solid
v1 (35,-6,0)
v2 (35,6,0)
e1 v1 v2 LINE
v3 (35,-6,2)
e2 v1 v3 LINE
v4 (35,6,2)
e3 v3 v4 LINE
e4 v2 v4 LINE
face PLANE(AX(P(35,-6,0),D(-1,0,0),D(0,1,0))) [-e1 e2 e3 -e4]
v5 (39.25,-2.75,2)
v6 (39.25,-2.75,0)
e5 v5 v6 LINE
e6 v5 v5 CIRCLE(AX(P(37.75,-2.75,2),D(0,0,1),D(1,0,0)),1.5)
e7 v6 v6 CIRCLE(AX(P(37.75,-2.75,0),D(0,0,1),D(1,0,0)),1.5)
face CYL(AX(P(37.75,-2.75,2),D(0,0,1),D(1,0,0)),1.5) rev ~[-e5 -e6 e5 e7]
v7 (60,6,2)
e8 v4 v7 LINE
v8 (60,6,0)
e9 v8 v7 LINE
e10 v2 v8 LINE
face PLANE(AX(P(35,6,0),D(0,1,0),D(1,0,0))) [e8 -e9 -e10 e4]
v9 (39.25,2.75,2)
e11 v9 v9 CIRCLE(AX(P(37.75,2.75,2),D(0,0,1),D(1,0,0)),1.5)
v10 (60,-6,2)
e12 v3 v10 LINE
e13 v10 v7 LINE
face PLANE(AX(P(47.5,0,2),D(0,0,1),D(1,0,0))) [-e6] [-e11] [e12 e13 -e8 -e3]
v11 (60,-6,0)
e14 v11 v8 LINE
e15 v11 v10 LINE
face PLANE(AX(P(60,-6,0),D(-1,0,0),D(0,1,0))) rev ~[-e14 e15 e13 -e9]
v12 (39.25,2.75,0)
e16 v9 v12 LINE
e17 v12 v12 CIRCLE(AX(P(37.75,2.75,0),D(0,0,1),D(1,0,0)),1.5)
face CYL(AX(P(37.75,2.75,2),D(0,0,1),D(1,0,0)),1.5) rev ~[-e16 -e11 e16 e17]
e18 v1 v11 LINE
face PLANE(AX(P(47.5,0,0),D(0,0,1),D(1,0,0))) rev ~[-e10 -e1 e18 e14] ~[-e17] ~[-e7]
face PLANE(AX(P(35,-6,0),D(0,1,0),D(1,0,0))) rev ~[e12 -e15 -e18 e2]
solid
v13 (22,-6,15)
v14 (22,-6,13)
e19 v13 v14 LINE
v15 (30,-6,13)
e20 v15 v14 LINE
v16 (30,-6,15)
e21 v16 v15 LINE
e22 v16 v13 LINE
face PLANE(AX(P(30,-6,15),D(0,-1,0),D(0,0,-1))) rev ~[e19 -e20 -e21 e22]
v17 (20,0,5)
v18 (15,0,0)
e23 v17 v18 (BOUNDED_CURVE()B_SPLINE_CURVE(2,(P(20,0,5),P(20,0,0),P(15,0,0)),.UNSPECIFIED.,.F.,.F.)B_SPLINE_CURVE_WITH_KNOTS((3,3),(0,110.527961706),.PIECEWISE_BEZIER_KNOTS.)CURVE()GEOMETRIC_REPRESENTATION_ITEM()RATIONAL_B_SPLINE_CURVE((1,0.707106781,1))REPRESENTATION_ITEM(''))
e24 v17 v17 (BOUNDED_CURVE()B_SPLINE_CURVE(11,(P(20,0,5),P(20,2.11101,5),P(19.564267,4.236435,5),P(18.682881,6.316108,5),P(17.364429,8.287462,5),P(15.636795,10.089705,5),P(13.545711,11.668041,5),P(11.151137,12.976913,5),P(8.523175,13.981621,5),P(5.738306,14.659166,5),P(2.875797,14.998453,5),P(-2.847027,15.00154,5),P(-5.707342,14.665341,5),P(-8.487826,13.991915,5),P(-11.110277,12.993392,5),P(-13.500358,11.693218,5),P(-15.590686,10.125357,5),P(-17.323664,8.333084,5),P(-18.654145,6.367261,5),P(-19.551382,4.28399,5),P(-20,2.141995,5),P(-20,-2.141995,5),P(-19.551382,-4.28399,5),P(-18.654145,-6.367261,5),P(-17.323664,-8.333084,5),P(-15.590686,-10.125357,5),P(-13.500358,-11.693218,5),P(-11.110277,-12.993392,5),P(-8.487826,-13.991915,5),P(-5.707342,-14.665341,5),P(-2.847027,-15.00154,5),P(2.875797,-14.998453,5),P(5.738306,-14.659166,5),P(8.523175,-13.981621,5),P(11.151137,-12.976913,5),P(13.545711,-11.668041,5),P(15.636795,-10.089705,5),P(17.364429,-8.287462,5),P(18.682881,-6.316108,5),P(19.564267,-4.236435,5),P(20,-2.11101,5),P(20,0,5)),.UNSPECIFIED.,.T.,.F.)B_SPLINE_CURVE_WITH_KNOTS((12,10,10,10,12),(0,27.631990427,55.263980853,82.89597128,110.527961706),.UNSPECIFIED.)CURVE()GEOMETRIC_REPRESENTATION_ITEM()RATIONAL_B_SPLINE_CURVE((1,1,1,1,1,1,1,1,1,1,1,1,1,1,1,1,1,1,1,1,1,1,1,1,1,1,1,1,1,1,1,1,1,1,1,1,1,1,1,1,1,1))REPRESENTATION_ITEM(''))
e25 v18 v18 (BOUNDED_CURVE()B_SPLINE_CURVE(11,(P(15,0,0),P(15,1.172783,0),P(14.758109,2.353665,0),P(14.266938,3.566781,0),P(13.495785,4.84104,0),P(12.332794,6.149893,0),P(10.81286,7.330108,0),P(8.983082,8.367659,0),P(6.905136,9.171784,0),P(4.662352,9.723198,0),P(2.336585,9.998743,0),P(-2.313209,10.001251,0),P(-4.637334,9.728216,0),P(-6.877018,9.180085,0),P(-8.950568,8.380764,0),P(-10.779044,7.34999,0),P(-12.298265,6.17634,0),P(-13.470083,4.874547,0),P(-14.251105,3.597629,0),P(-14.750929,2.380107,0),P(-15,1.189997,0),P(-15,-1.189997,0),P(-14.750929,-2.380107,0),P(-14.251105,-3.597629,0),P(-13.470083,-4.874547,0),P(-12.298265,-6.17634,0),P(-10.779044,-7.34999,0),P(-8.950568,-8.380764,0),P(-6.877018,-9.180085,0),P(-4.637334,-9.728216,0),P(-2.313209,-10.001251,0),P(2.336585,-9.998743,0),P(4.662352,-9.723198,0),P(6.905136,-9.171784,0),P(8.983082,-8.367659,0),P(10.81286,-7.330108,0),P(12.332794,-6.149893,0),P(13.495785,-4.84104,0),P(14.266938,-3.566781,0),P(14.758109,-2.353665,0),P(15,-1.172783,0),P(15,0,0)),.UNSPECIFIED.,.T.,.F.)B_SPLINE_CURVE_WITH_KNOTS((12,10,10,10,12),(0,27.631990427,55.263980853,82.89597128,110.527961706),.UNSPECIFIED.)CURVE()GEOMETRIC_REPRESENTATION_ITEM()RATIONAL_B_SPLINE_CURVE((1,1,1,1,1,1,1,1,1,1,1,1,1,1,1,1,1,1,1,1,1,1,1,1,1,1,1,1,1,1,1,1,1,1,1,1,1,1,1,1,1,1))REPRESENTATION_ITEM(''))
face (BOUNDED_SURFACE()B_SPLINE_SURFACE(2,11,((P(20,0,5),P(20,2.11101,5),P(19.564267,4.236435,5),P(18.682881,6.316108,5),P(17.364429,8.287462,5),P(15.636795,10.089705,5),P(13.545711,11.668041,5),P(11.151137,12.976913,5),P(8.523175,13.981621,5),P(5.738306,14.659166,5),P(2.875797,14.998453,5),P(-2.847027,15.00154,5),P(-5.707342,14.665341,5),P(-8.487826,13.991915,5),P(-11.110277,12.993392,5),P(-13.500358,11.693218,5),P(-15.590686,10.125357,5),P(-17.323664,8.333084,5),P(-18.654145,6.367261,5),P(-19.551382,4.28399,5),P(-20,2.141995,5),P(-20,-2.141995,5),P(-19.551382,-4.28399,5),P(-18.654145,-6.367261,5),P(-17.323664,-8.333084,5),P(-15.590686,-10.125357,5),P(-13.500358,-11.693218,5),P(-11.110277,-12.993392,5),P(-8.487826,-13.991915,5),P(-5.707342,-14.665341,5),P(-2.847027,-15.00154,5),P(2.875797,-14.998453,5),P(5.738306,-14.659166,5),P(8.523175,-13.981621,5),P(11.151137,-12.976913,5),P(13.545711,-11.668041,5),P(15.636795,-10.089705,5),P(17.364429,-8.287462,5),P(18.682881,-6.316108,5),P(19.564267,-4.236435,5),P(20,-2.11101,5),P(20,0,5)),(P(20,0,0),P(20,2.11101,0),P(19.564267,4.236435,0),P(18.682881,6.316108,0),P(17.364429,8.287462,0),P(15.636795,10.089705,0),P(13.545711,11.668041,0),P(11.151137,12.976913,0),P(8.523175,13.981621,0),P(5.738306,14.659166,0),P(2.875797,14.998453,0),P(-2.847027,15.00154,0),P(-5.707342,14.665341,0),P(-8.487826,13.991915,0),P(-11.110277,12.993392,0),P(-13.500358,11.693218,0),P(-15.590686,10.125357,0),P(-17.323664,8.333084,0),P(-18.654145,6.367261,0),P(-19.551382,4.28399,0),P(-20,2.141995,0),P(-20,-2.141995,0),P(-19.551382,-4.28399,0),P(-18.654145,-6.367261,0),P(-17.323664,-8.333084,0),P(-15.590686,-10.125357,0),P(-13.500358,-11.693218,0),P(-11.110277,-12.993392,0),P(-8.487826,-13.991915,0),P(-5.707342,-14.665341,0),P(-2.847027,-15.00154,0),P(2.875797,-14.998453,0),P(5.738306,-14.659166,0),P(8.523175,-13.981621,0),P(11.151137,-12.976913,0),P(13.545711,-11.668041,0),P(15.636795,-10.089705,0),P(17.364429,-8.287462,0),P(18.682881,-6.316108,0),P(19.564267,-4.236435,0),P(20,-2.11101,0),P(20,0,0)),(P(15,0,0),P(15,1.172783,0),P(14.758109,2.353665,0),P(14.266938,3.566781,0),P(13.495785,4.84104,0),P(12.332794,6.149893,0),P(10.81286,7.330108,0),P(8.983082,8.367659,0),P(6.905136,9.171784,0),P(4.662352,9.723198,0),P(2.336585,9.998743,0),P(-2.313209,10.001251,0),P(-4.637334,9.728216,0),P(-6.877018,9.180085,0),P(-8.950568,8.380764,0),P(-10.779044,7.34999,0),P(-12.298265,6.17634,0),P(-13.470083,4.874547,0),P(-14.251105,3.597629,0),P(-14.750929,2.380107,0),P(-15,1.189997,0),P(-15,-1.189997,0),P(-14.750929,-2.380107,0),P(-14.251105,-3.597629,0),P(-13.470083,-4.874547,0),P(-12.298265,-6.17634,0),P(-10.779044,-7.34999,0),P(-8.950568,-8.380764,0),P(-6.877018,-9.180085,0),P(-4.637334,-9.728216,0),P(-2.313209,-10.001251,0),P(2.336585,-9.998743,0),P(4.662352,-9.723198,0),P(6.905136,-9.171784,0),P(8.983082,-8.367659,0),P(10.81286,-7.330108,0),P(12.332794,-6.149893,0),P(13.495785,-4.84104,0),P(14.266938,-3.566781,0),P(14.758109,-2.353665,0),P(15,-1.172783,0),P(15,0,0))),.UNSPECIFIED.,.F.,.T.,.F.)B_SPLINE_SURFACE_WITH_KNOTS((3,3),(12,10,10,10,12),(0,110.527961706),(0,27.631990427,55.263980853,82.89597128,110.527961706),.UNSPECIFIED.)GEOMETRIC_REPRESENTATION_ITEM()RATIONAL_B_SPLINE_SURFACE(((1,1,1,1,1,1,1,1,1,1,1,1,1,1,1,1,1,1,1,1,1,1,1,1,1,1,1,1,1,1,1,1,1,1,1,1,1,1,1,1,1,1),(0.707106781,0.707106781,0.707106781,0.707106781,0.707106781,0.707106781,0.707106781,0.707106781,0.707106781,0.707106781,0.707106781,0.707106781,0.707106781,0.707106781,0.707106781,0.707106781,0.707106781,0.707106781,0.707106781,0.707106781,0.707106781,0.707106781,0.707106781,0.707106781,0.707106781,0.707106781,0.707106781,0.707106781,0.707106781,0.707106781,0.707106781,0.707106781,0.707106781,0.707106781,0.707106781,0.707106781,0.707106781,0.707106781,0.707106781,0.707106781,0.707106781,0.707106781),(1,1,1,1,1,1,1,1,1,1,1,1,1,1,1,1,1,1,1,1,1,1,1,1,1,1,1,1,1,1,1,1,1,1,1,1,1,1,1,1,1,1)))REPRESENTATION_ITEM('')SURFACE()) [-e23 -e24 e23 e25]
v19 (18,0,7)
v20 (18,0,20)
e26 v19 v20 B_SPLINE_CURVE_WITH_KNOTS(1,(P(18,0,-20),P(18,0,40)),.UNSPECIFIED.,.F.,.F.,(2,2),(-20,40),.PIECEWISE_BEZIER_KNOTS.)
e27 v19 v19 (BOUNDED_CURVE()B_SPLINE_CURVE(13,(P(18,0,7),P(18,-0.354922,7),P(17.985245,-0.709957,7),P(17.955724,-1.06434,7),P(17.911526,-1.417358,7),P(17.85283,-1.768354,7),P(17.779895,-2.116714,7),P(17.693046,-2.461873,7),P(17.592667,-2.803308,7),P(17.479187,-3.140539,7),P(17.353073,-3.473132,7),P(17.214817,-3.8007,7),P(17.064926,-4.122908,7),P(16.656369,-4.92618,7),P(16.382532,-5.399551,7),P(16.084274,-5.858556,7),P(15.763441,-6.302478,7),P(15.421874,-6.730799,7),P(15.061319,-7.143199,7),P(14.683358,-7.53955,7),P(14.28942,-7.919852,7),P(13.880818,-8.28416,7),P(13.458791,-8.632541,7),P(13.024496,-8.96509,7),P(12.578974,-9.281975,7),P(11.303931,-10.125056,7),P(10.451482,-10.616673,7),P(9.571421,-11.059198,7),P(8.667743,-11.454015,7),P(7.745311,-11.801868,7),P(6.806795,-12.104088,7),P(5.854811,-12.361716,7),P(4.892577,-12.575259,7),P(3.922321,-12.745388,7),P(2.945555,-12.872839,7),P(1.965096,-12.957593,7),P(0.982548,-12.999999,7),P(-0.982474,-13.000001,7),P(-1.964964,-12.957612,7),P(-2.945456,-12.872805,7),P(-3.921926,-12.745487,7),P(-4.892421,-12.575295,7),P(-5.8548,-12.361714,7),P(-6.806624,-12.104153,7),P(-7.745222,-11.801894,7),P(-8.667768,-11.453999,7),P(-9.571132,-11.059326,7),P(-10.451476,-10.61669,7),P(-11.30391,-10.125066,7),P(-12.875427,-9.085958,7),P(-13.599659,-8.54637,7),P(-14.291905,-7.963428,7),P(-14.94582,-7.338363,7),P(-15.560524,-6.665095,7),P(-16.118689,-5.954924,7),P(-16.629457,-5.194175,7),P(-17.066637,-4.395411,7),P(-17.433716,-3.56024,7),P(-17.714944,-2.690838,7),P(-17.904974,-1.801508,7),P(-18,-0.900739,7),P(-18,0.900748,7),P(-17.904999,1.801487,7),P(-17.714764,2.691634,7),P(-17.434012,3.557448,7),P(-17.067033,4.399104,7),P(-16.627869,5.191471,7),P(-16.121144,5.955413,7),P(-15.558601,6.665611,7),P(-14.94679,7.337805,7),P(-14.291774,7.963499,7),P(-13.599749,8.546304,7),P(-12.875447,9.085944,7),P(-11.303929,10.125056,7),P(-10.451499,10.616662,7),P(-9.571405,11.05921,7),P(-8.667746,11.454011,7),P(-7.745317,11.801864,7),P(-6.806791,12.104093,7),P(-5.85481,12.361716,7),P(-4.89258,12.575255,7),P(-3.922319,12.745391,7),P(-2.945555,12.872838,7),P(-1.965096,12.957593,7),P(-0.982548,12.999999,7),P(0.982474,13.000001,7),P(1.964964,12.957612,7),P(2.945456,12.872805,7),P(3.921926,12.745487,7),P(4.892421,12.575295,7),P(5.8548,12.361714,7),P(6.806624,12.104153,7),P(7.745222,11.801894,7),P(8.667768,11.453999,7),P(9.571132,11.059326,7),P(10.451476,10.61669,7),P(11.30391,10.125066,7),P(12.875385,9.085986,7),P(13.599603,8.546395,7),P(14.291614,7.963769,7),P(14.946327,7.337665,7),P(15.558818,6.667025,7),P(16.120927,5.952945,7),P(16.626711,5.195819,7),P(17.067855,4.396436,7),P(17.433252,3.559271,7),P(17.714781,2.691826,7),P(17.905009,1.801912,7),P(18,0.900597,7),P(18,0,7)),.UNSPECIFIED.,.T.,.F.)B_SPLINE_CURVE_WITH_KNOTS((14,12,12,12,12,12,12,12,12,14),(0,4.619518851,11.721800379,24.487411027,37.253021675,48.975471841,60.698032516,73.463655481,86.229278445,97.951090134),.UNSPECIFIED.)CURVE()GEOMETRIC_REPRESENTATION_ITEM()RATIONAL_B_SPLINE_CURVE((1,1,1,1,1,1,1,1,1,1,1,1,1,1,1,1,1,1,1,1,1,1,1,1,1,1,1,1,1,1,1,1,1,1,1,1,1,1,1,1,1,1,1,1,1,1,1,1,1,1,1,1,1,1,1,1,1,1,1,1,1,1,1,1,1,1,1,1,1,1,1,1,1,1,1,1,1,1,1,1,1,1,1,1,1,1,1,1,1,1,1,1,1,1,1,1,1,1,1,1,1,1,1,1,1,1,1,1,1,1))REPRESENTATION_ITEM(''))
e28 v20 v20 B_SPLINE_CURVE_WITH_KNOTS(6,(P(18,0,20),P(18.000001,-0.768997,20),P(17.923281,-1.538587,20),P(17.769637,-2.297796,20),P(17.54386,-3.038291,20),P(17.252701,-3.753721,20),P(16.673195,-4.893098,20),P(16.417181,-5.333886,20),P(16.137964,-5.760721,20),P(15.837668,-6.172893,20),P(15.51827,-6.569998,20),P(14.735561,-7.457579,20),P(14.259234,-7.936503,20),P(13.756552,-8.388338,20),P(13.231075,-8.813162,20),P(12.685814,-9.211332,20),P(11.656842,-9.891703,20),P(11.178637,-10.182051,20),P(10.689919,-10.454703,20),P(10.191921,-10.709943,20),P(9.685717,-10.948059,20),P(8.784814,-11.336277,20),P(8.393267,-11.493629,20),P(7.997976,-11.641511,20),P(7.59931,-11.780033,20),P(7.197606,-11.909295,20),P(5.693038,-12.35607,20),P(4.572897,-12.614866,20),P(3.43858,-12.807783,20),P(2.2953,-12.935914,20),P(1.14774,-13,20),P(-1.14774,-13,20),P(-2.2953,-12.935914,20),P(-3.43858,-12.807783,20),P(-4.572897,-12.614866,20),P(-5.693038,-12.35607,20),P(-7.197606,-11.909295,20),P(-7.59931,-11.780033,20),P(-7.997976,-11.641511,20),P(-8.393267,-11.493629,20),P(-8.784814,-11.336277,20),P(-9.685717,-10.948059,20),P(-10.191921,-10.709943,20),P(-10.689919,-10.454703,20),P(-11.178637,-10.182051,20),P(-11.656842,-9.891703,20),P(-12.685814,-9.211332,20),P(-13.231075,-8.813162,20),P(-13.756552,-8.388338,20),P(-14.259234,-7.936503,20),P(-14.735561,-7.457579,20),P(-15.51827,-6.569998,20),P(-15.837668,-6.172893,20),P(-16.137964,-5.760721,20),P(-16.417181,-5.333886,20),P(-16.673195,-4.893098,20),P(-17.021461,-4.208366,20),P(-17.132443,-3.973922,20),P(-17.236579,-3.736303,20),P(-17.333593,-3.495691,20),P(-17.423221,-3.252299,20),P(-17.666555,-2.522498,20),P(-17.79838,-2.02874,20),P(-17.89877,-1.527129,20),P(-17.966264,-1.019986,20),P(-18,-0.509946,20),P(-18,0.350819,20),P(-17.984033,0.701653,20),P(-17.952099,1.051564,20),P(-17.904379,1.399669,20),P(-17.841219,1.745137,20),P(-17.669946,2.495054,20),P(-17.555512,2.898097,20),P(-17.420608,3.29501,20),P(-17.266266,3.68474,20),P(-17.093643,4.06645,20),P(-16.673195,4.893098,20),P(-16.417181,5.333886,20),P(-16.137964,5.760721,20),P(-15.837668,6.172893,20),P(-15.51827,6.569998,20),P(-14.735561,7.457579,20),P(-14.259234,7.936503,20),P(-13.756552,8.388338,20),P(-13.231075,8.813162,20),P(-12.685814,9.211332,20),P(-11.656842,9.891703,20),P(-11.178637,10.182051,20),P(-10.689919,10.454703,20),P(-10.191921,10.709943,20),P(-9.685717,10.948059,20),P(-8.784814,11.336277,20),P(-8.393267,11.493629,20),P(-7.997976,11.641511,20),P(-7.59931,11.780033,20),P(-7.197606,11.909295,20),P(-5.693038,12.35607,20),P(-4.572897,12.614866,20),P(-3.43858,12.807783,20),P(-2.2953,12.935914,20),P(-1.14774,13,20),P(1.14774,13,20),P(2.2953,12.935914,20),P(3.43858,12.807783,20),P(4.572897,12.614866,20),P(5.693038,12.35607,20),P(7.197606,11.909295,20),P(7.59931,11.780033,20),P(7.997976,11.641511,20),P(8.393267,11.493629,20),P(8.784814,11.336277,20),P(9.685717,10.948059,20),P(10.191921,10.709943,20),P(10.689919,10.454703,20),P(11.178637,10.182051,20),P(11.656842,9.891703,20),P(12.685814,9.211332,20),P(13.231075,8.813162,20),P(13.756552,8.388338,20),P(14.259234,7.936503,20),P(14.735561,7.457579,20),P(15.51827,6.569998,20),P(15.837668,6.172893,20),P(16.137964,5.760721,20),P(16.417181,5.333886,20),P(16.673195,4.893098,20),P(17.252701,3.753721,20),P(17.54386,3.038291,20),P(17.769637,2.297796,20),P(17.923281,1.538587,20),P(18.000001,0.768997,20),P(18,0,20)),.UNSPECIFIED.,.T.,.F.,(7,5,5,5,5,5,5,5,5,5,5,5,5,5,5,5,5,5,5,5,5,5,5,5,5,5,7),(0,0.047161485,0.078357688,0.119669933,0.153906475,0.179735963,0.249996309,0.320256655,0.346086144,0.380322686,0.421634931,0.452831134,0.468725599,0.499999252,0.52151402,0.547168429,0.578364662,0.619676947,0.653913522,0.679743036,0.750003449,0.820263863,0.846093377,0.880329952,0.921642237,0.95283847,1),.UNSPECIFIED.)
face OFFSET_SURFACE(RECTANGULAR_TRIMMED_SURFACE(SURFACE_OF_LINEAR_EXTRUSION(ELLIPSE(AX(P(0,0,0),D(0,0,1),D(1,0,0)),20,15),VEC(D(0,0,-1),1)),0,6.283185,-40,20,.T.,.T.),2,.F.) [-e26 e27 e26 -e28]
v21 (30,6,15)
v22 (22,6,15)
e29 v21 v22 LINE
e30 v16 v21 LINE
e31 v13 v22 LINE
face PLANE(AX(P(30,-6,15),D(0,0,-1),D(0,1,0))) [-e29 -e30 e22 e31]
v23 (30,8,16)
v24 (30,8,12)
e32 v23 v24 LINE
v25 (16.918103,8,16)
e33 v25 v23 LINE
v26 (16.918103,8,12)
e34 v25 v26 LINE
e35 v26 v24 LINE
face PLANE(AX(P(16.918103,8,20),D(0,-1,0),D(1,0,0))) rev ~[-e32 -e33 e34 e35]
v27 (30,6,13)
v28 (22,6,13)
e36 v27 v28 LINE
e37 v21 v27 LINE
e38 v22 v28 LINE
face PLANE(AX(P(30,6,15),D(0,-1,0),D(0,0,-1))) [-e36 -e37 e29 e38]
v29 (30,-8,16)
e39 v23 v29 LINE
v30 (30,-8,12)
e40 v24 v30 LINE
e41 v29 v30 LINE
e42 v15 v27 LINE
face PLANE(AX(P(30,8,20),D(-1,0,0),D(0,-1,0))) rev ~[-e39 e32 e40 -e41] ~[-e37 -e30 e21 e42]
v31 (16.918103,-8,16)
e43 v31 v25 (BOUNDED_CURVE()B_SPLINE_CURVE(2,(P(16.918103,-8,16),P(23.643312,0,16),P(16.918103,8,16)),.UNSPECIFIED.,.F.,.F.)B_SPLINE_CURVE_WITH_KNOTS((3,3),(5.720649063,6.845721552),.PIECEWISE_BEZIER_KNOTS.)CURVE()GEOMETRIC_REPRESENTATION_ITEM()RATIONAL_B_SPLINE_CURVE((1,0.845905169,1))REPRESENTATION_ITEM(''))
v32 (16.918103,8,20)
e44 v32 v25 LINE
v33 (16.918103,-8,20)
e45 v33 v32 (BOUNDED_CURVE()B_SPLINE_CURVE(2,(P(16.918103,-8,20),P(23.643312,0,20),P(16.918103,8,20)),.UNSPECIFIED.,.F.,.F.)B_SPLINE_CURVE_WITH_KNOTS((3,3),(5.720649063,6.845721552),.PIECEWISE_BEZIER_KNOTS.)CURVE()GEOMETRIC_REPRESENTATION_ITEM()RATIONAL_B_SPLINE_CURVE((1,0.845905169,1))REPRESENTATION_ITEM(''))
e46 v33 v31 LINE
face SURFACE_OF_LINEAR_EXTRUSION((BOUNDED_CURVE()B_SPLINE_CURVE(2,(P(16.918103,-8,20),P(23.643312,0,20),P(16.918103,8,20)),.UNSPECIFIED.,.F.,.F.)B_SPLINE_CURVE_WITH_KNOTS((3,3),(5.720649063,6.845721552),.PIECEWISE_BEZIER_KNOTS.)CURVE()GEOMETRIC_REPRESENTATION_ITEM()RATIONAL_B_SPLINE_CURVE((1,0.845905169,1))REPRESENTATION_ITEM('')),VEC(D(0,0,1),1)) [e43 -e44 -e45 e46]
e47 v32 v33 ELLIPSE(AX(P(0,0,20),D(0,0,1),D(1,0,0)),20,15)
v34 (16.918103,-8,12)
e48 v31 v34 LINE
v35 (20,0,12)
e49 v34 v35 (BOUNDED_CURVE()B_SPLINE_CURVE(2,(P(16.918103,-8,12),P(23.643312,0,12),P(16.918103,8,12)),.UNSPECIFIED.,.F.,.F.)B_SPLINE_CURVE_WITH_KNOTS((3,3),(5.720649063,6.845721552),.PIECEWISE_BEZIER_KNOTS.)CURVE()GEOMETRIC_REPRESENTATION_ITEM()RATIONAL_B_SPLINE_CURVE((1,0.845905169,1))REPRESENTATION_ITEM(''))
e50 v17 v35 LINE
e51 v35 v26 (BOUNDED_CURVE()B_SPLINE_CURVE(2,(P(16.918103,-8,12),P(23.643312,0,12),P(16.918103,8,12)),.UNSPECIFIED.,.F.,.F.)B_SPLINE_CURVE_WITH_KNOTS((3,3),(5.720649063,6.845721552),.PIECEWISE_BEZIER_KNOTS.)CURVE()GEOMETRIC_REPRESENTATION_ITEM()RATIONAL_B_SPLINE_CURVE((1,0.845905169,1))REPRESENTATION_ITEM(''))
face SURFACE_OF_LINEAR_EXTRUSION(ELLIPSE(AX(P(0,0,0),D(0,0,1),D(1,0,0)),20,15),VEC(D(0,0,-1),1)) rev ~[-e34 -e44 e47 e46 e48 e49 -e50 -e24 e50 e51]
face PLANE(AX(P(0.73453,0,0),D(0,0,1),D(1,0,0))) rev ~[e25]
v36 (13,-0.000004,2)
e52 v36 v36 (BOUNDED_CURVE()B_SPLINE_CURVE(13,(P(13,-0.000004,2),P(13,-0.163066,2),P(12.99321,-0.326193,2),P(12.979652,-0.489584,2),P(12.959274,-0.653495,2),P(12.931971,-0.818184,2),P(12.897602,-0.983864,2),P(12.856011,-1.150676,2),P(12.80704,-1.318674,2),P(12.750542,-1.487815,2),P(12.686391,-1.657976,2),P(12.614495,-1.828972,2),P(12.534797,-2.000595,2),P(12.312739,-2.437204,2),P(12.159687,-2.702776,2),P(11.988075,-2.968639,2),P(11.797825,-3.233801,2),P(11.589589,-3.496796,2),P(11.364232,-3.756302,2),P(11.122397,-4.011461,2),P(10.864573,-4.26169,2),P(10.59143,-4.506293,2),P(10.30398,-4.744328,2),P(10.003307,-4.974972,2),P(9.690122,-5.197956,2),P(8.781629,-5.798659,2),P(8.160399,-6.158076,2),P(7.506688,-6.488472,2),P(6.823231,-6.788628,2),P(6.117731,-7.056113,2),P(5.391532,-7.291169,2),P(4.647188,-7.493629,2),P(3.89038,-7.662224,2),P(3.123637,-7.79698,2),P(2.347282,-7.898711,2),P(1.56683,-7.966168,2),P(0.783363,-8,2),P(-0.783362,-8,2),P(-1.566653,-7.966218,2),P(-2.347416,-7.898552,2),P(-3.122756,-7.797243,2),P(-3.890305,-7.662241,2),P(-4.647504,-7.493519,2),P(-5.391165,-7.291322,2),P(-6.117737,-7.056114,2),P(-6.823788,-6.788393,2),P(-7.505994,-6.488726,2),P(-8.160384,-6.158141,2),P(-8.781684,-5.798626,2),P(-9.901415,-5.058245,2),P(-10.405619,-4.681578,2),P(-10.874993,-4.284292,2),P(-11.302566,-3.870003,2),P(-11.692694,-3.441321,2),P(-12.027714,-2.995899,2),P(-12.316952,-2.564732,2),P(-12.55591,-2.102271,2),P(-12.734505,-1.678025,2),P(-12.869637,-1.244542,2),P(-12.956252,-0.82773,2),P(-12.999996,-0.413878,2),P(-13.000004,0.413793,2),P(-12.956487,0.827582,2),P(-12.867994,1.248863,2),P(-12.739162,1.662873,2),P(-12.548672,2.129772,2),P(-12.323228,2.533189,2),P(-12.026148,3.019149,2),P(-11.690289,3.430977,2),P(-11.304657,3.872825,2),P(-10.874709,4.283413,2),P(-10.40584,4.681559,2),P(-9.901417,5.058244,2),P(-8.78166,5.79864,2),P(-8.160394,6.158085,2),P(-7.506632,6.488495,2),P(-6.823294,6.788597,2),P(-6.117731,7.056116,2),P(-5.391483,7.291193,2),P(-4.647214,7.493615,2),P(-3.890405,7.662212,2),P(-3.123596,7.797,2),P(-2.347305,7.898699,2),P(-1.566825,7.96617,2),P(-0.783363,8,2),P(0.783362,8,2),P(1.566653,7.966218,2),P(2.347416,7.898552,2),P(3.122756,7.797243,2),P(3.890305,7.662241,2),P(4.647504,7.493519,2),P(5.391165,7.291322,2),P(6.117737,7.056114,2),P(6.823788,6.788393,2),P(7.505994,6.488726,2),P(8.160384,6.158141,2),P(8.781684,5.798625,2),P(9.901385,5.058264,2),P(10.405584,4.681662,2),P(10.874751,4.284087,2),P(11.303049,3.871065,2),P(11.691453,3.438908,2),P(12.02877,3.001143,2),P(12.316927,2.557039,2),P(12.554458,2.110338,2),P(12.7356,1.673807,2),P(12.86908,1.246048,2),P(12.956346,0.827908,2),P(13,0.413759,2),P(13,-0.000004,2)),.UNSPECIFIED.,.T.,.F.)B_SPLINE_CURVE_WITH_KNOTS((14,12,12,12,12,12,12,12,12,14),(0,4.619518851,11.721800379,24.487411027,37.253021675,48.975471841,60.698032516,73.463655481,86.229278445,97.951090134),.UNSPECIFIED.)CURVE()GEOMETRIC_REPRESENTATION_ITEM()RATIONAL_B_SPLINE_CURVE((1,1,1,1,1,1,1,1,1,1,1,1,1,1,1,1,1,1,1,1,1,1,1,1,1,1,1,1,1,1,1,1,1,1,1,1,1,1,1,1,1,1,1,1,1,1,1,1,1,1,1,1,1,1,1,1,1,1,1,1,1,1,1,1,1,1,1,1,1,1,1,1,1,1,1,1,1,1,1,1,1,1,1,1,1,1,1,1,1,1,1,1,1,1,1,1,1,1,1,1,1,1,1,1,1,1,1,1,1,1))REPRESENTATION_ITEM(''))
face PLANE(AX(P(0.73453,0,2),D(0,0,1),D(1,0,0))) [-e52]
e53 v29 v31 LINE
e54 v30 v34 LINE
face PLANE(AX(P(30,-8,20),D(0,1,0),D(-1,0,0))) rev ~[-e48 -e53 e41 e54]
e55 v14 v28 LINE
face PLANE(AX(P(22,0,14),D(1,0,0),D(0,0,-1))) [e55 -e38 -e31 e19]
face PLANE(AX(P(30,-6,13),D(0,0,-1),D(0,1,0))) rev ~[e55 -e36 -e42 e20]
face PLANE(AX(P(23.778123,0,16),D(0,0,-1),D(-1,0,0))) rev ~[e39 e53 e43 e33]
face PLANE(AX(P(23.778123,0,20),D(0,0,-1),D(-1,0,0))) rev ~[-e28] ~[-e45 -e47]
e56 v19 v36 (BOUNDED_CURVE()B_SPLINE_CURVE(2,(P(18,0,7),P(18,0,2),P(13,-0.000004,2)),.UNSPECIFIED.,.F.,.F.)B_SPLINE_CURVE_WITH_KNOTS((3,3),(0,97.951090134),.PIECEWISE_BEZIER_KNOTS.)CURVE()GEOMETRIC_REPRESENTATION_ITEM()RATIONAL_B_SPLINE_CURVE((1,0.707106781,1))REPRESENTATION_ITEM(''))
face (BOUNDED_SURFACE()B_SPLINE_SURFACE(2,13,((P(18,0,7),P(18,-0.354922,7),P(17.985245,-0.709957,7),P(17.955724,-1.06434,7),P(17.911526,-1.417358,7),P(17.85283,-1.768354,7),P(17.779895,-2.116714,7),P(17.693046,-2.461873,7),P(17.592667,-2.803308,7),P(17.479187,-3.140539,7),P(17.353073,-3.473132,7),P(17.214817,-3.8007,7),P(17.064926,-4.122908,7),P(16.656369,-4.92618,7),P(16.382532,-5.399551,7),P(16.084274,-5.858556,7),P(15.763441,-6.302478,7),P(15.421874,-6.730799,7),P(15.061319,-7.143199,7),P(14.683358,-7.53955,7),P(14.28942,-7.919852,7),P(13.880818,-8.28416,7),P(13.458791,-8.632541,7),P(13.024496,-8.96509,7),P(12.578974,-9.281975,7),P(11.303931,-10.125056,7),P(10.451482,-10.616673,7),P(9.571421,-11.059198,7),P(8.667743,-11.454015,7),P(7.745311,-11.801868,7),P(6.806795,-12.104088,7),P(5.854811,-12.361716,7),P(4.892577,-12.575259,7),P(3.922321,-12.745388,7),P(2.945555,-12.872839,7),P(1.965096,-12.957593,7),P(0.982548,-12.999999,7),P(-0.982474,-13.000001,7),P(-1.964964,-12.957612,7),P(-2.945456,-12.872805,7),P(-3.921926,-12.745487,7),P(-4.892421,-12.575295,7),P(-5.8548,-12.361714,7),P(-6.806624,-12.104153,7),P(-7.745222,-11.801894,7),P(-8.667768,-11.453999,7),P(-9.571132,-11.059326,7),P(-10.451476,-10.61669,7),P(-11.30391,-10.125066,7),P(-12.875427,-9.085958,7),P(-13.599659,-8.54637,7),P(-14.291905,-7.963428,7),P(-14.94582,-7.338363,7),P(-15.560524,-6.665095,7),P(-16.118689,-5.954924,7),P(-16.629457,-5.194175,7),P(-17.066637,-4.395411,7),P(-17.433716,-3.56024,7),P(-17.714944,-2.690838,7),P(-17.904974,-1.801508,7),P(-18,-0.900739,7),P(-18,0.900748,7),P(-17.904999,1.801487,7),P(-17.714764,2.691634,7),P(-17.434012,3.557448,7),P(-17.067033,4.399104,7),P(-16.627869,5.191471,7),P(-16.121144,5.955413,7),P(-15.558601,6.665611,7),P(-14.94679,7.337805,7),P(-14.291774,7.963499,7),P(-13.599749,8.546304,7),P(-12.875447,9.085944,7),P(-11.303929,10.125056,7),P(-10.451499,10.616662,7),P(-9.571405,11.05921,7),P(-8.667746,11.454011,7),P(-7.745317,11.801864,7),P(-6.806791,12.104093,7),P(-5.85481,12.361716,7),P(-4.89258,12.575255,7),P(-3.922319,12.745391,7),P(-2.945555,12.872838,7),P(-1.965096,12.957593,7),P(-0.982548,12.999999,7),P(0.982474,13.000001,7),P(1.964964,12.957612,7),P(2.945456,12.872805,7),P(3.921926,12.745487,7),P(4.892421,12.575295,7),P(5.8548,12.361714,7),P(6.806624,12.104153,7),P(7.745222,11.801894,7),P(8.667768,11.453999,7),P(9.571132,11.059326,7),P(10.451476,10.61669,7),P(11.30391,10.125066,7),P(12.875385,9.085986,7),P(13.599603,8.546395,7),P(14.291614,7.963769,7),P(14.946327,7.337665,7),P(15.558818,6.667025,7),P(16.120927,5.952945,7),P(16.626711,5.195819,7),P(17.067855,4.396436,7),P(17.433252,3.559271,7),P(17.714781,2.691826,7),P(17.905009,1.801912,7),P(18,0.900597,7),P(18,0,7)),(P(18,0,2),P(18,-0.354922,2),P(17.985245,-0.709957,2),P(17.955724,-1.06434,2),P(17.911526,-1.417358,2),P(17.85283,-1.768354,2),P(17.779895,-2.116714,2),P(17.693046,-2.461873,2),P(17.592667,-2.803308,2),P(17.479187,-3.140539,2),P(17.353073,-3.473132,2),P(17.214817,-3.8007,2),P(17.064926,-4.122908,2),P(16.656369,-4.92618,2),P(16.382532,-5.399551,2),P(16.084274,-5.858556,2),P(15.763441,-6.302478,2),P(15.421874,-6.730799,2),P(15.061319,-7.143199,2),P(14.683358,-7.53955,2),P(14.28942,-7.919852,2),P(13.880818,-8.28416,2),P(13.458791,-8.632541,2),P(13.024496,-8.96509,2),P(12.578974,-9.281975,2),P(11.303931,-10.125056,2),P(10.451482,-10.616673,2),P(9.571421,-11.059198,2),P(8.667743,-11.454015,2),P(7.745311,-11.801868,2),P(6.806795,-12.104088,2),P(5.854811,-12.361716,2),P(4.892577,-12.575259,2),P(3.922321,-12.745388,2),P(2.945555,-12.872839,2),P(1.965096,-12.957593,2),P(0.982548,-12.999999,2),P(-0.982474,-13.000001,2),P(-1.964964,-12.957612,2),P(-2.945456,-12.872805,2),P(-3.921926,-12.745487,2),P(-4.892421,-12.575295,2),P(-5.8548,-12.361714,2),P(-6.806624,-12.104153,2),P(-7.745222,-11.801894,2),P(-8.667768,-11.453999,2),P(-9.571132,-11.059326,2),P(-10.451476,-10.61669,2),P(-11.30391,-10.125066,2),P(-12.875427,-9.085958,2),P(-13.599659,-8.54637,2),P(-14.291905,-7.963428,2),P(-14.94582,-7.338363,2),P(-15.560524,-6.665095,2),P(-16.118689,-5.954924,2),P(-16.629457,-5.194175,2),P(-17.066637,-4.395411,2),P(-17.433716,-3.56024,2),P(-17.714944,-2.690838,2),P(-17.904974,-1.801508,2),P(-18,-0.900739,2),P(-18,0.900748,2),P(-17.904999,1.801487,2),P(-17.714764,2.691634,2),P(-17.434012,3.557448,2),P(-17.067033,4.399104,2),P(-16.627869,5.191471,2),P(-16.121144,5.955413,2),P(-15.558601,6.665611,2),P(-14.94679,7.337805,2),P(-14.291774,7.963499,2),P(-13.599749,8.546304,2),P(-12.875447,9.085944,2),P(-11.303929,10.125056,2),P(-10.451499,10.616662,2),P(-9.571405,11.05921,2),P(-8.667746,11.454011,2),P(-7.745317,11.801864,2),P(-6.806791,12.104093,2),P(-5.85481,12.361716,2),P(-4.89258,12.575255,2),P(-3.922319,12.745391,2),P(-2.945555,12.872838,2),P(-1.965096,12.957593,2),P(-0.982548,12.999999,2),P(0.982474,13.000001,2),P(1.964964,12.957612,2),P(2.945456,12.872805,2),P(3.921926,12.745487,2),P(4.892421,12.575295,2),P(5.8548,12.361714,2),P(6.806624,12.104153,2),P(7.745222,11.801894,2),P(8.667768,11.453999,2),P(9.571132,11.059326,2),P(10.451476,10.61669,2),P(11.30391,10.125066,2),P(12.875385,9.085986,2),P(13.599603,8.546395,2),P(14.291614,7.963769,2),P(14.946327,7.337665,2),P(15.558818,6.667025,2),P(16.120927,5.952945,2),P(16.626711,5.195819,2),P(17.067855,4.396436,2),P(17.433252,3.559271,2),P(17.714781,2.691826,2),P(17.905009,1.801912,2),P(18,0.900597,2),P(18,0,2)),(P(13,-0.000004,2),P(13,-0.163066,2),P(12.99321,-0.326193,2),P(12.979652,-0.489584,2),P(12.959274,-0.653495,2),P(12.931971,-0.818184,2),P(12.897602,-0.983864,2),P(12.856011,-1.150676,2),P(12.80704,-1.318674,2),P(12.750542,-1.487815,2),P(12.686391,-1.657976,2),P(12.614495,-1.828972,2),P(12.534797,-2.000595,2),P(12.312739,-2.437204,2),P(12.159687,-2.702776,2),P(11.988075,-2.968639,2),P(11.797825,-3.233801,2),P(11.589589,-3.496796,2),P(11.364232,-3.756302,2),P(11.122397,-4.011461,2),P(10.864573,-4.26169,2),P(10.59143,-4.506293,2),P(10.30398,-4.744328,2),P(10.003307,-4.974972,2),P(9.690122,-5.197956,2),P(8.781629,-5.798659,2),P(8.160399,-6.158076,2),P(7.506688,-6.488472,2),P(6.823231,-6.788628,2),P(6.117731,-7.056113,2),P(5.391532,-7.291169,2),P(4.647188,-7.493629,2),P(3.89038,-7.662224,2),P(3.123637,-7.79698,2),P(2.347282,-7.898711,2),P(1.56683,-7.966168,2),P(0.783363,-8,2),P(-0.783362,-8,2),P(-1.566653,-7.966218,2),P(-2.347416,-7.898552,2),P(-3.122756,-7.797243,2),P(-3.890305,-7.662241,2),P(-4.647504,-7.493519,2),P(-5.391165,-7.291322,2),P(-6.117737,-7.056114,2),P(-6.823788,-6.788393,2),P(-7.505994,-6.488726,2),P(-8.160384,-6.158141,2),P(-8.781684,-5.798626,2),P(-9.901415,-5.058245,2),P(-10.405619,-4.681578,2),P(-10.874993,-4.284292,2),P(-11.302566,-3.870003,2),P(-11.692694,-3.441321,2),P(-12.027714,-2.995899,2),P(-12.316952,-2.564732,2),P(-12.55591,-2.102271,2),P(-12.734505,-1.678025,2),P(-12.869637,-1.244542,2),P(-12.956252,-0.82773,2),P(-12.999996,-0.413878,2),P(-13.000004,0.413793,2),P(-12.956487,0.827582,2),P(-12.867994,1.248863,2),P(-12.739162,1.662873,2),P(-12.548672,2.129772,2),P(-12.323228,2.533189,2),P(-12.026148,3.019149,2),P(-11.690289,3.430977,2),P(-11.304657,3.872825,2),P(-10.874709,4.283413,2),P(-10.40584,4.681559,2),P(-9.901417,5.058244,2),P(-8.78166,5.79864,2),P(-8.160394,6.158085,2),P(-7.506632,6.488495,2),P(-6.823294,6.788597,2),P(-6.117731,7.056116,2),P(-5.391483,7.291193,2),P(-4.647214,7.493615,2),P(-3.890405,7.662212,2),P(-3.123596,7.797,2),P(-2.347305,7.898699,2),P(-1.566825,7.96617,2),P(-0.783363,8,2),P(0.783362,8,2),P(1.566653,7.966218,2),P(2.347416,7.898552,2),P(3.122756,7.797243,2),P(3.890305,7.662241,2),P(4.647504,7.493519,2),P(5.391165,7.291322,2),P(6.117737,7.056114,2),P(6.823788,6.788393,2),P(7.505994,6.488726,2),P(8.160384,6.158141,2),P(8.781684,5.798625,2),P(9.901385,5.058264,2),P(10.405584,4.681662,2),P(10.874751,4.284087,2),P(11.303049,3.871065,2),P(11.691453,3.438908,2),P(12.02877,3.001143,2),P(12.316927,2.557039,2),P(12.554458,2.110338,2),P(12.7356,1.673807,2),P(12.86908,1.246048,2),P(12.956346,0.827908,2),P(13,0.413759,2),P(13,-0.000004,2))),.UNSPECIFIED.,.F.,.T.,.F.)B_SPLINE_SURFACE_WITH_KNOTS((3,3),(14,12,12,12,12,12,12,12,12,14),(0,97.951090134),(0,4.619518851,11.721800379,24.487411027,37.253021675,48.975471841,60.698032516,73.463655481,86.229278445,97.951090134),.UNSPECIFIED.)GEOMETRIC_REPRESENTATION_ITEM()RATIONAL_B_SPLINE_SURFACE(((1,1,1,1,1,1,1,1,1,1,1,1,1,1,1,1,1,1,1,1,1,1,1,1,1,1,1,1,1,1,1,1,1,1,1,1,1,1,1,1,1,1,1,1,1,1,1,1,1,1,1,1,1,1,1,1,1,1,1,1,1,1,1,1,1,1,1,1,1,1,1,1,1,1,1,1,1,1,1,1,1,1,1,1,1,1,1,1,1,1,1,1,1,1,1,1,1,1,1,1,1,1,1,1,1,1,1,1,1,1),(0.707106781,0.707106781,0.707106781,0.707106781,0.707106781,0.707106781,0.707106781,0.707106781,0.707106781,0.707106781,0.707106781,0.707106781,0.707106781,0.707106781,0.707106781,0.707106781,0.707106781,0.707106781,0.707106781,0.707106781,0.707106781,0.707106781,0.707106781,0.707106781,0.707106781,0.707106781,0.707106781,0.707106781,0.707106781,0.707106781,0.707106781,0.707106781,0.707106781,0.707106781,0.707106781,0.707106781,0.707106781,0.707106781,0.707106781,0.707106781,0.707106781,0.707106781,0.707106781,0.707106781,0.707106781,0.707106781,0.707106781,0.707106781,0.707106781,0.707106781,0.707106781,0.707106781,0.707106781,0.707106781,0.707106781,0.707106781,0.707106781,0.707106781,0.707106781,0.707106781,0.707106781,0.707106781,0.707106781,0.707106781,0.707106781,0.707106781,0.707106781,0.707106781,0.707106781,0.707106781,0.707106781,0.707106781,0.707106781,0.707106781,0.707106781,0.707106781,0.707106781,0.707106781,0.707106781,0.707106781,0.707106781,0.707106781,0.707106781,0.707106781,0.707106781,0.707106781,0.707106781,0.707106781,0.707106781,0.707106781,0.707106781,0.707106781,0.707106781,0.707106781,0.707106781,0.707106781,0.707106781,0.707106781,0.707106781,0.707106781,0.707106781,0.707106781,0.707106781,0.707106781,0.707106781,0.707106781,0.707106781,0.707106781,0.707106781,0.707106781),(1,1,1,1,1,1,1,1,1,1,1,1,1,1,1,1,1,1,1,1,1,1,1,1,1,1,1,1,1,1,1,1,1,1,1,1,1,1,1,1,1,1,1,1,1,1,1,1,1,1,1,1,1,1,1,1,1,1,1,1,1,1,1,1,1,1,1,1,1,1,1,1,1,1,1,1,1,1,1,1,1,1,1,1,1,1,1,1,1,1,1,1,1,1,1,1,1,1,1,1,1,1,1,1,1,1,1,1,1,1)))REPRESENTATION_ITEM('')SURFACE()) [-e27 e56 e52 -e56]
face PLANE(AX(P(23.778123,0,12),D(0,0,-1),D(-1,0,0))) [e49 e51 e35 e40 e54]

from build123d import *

# Parameters (mm, degrees)
SKETCH1_RX          = 20
SKETCH1_RY          = 15
BOSS_EXTRUDE1_DEPTH = 20
SHELL1_T            = -2
FILLET3_R           = 5
FILLET4_R           = 5
BOSS_EXTRUDE3_DEPTH = 8
CUT_EXTRUDE2_DEPTH  = 4
SKETCH12_W          = 2
SKETCH12_H          = 12
CUT_EXTRUDE3_DEPTH  = 8
SKETCH13_W          = 25
SKETCH13_H          = 12
BOSS_EXTRUDE4_DEPTH = 2
SKETCH15_R          = 1.5
CUT_EXTRUDE4_DEPTH  = 10


with BuildPart() as part:
    # Sketch1 → Boss-Extrude1 (new body)
    with BuildSketch(Plane.XY):
        with Locations((0, 0)):
            Ellipse(SKETCH1_RX, SKETCH1_RY)
    extrude(amount=BOSS_EXTRUDE1_DEPTH)

    # Shell1
    shell1_openings = [part.faces().sort_by_distance(p)[0] for p in [
        (0, 0, 20),
    ]]
    offset(amount=SHELL1_T, openings=shell1_openings, kind=Kind.INTERSECTION)

    # Fillet3
    fillet3_edges = [part.edges().sort_by_distance(p)[0] for p in [
        (-18.000000048, 7.4e-08, 2),
    ]]
    fillet(fillet3_edges, radius=FILLET3_R)

    # Fillet4
    fillet4_edges = [part.edges().sort_by_distance(p)[0] for p in [
        (-19.999998775, -0.005250576, 0),
    ]]
    fillet(fillet4_edges, radius=FILLET4_R)

    # Sketch3 → Boss-Extrude3 (add)
    with BuildSketch(Plane.XY.offset(20)):
        with BuildLine():
            Line((30, 8), (30, -8))
            Line((30, -8), (16.918103387, -8))
            add(Edge.make_bspline(
                [(16.918103387, -8), (23.643312187, 0), (16.918103387, 8)],
                knots=[5.720649063, 5.720649063, 5.720649063, 6.845721552, 6.845721552, 6.845721552], degree=2, weights=[1, 0.845905169, 1]))
            Line((16.918103387, 8), (30, 8))
        make_face()
    extrude(amount=-BOSS_EXTRUDE3_DEPTH)

    # Sketch3<3> → Cut-Extrude2 (cut)
    with BuildSketch(Plane.XY.offset(20)):
        with BuildLine():
            Line((30, 8), (30, -8))
            Line((30, -8), (16.918103387, -8))
            add(Edge.make_bspline(
                [(16.918103387, -8), (23.643312187, 0), (16.918103387, 8)],
                knots=[5.720649063, 5.720649063, 5.720649063, 6.845721552, 6.845721552, 6.845721552], degree=2, weights=[1, 0.845905169, 1]))
            Line((16.918103387, 8), (30, 8))
        make_face()
    extrude(amount=-CUT_EXTRUDE2_DEPTH, mode=Mode.SUBTRACT)

    # Sketch12 → Cut-Extrude3 (cut)
    with BuildSketch(Plane(origin=(30, 0, 0), x_dir=(0, 0, -1), z_dir=(1, 0, 0))):
        with Locations((-14, 0)):
            Rectangle(SKETCH12_W, SKETCH12_H)
    extrude(amount=-CUT_EXTRUDE3_DEPTH, mode=Mode.SUBTRACT)


with BuildPart() as body_2:
    # Sketch13 → Boss-Extrude4 (new body)
    with BuildSketch(Plane.XY):
        with Locations((47.5, 0)):
            Rectangle(SKETCH13_W, SKETCH13_H)
    extrude(amount=BOSS_EXTRUDE4_DEPTH)

    # Sketch15 → Cut-Extrude4 (cut)
    with BuildSketch(Plane.XY.offset(2)):
        with Locations((37.75, -2.75)):
            Circle(SKETCH15_R)
        with Locations((37.75, 2.75)):
            Circle(SKETCH15_R)
    extrude(amount=-CUT_EXTRUDE4_DEPTH, mode=Mode.SUBTRACT)


solid = Compound([part.part, body_2.part])
